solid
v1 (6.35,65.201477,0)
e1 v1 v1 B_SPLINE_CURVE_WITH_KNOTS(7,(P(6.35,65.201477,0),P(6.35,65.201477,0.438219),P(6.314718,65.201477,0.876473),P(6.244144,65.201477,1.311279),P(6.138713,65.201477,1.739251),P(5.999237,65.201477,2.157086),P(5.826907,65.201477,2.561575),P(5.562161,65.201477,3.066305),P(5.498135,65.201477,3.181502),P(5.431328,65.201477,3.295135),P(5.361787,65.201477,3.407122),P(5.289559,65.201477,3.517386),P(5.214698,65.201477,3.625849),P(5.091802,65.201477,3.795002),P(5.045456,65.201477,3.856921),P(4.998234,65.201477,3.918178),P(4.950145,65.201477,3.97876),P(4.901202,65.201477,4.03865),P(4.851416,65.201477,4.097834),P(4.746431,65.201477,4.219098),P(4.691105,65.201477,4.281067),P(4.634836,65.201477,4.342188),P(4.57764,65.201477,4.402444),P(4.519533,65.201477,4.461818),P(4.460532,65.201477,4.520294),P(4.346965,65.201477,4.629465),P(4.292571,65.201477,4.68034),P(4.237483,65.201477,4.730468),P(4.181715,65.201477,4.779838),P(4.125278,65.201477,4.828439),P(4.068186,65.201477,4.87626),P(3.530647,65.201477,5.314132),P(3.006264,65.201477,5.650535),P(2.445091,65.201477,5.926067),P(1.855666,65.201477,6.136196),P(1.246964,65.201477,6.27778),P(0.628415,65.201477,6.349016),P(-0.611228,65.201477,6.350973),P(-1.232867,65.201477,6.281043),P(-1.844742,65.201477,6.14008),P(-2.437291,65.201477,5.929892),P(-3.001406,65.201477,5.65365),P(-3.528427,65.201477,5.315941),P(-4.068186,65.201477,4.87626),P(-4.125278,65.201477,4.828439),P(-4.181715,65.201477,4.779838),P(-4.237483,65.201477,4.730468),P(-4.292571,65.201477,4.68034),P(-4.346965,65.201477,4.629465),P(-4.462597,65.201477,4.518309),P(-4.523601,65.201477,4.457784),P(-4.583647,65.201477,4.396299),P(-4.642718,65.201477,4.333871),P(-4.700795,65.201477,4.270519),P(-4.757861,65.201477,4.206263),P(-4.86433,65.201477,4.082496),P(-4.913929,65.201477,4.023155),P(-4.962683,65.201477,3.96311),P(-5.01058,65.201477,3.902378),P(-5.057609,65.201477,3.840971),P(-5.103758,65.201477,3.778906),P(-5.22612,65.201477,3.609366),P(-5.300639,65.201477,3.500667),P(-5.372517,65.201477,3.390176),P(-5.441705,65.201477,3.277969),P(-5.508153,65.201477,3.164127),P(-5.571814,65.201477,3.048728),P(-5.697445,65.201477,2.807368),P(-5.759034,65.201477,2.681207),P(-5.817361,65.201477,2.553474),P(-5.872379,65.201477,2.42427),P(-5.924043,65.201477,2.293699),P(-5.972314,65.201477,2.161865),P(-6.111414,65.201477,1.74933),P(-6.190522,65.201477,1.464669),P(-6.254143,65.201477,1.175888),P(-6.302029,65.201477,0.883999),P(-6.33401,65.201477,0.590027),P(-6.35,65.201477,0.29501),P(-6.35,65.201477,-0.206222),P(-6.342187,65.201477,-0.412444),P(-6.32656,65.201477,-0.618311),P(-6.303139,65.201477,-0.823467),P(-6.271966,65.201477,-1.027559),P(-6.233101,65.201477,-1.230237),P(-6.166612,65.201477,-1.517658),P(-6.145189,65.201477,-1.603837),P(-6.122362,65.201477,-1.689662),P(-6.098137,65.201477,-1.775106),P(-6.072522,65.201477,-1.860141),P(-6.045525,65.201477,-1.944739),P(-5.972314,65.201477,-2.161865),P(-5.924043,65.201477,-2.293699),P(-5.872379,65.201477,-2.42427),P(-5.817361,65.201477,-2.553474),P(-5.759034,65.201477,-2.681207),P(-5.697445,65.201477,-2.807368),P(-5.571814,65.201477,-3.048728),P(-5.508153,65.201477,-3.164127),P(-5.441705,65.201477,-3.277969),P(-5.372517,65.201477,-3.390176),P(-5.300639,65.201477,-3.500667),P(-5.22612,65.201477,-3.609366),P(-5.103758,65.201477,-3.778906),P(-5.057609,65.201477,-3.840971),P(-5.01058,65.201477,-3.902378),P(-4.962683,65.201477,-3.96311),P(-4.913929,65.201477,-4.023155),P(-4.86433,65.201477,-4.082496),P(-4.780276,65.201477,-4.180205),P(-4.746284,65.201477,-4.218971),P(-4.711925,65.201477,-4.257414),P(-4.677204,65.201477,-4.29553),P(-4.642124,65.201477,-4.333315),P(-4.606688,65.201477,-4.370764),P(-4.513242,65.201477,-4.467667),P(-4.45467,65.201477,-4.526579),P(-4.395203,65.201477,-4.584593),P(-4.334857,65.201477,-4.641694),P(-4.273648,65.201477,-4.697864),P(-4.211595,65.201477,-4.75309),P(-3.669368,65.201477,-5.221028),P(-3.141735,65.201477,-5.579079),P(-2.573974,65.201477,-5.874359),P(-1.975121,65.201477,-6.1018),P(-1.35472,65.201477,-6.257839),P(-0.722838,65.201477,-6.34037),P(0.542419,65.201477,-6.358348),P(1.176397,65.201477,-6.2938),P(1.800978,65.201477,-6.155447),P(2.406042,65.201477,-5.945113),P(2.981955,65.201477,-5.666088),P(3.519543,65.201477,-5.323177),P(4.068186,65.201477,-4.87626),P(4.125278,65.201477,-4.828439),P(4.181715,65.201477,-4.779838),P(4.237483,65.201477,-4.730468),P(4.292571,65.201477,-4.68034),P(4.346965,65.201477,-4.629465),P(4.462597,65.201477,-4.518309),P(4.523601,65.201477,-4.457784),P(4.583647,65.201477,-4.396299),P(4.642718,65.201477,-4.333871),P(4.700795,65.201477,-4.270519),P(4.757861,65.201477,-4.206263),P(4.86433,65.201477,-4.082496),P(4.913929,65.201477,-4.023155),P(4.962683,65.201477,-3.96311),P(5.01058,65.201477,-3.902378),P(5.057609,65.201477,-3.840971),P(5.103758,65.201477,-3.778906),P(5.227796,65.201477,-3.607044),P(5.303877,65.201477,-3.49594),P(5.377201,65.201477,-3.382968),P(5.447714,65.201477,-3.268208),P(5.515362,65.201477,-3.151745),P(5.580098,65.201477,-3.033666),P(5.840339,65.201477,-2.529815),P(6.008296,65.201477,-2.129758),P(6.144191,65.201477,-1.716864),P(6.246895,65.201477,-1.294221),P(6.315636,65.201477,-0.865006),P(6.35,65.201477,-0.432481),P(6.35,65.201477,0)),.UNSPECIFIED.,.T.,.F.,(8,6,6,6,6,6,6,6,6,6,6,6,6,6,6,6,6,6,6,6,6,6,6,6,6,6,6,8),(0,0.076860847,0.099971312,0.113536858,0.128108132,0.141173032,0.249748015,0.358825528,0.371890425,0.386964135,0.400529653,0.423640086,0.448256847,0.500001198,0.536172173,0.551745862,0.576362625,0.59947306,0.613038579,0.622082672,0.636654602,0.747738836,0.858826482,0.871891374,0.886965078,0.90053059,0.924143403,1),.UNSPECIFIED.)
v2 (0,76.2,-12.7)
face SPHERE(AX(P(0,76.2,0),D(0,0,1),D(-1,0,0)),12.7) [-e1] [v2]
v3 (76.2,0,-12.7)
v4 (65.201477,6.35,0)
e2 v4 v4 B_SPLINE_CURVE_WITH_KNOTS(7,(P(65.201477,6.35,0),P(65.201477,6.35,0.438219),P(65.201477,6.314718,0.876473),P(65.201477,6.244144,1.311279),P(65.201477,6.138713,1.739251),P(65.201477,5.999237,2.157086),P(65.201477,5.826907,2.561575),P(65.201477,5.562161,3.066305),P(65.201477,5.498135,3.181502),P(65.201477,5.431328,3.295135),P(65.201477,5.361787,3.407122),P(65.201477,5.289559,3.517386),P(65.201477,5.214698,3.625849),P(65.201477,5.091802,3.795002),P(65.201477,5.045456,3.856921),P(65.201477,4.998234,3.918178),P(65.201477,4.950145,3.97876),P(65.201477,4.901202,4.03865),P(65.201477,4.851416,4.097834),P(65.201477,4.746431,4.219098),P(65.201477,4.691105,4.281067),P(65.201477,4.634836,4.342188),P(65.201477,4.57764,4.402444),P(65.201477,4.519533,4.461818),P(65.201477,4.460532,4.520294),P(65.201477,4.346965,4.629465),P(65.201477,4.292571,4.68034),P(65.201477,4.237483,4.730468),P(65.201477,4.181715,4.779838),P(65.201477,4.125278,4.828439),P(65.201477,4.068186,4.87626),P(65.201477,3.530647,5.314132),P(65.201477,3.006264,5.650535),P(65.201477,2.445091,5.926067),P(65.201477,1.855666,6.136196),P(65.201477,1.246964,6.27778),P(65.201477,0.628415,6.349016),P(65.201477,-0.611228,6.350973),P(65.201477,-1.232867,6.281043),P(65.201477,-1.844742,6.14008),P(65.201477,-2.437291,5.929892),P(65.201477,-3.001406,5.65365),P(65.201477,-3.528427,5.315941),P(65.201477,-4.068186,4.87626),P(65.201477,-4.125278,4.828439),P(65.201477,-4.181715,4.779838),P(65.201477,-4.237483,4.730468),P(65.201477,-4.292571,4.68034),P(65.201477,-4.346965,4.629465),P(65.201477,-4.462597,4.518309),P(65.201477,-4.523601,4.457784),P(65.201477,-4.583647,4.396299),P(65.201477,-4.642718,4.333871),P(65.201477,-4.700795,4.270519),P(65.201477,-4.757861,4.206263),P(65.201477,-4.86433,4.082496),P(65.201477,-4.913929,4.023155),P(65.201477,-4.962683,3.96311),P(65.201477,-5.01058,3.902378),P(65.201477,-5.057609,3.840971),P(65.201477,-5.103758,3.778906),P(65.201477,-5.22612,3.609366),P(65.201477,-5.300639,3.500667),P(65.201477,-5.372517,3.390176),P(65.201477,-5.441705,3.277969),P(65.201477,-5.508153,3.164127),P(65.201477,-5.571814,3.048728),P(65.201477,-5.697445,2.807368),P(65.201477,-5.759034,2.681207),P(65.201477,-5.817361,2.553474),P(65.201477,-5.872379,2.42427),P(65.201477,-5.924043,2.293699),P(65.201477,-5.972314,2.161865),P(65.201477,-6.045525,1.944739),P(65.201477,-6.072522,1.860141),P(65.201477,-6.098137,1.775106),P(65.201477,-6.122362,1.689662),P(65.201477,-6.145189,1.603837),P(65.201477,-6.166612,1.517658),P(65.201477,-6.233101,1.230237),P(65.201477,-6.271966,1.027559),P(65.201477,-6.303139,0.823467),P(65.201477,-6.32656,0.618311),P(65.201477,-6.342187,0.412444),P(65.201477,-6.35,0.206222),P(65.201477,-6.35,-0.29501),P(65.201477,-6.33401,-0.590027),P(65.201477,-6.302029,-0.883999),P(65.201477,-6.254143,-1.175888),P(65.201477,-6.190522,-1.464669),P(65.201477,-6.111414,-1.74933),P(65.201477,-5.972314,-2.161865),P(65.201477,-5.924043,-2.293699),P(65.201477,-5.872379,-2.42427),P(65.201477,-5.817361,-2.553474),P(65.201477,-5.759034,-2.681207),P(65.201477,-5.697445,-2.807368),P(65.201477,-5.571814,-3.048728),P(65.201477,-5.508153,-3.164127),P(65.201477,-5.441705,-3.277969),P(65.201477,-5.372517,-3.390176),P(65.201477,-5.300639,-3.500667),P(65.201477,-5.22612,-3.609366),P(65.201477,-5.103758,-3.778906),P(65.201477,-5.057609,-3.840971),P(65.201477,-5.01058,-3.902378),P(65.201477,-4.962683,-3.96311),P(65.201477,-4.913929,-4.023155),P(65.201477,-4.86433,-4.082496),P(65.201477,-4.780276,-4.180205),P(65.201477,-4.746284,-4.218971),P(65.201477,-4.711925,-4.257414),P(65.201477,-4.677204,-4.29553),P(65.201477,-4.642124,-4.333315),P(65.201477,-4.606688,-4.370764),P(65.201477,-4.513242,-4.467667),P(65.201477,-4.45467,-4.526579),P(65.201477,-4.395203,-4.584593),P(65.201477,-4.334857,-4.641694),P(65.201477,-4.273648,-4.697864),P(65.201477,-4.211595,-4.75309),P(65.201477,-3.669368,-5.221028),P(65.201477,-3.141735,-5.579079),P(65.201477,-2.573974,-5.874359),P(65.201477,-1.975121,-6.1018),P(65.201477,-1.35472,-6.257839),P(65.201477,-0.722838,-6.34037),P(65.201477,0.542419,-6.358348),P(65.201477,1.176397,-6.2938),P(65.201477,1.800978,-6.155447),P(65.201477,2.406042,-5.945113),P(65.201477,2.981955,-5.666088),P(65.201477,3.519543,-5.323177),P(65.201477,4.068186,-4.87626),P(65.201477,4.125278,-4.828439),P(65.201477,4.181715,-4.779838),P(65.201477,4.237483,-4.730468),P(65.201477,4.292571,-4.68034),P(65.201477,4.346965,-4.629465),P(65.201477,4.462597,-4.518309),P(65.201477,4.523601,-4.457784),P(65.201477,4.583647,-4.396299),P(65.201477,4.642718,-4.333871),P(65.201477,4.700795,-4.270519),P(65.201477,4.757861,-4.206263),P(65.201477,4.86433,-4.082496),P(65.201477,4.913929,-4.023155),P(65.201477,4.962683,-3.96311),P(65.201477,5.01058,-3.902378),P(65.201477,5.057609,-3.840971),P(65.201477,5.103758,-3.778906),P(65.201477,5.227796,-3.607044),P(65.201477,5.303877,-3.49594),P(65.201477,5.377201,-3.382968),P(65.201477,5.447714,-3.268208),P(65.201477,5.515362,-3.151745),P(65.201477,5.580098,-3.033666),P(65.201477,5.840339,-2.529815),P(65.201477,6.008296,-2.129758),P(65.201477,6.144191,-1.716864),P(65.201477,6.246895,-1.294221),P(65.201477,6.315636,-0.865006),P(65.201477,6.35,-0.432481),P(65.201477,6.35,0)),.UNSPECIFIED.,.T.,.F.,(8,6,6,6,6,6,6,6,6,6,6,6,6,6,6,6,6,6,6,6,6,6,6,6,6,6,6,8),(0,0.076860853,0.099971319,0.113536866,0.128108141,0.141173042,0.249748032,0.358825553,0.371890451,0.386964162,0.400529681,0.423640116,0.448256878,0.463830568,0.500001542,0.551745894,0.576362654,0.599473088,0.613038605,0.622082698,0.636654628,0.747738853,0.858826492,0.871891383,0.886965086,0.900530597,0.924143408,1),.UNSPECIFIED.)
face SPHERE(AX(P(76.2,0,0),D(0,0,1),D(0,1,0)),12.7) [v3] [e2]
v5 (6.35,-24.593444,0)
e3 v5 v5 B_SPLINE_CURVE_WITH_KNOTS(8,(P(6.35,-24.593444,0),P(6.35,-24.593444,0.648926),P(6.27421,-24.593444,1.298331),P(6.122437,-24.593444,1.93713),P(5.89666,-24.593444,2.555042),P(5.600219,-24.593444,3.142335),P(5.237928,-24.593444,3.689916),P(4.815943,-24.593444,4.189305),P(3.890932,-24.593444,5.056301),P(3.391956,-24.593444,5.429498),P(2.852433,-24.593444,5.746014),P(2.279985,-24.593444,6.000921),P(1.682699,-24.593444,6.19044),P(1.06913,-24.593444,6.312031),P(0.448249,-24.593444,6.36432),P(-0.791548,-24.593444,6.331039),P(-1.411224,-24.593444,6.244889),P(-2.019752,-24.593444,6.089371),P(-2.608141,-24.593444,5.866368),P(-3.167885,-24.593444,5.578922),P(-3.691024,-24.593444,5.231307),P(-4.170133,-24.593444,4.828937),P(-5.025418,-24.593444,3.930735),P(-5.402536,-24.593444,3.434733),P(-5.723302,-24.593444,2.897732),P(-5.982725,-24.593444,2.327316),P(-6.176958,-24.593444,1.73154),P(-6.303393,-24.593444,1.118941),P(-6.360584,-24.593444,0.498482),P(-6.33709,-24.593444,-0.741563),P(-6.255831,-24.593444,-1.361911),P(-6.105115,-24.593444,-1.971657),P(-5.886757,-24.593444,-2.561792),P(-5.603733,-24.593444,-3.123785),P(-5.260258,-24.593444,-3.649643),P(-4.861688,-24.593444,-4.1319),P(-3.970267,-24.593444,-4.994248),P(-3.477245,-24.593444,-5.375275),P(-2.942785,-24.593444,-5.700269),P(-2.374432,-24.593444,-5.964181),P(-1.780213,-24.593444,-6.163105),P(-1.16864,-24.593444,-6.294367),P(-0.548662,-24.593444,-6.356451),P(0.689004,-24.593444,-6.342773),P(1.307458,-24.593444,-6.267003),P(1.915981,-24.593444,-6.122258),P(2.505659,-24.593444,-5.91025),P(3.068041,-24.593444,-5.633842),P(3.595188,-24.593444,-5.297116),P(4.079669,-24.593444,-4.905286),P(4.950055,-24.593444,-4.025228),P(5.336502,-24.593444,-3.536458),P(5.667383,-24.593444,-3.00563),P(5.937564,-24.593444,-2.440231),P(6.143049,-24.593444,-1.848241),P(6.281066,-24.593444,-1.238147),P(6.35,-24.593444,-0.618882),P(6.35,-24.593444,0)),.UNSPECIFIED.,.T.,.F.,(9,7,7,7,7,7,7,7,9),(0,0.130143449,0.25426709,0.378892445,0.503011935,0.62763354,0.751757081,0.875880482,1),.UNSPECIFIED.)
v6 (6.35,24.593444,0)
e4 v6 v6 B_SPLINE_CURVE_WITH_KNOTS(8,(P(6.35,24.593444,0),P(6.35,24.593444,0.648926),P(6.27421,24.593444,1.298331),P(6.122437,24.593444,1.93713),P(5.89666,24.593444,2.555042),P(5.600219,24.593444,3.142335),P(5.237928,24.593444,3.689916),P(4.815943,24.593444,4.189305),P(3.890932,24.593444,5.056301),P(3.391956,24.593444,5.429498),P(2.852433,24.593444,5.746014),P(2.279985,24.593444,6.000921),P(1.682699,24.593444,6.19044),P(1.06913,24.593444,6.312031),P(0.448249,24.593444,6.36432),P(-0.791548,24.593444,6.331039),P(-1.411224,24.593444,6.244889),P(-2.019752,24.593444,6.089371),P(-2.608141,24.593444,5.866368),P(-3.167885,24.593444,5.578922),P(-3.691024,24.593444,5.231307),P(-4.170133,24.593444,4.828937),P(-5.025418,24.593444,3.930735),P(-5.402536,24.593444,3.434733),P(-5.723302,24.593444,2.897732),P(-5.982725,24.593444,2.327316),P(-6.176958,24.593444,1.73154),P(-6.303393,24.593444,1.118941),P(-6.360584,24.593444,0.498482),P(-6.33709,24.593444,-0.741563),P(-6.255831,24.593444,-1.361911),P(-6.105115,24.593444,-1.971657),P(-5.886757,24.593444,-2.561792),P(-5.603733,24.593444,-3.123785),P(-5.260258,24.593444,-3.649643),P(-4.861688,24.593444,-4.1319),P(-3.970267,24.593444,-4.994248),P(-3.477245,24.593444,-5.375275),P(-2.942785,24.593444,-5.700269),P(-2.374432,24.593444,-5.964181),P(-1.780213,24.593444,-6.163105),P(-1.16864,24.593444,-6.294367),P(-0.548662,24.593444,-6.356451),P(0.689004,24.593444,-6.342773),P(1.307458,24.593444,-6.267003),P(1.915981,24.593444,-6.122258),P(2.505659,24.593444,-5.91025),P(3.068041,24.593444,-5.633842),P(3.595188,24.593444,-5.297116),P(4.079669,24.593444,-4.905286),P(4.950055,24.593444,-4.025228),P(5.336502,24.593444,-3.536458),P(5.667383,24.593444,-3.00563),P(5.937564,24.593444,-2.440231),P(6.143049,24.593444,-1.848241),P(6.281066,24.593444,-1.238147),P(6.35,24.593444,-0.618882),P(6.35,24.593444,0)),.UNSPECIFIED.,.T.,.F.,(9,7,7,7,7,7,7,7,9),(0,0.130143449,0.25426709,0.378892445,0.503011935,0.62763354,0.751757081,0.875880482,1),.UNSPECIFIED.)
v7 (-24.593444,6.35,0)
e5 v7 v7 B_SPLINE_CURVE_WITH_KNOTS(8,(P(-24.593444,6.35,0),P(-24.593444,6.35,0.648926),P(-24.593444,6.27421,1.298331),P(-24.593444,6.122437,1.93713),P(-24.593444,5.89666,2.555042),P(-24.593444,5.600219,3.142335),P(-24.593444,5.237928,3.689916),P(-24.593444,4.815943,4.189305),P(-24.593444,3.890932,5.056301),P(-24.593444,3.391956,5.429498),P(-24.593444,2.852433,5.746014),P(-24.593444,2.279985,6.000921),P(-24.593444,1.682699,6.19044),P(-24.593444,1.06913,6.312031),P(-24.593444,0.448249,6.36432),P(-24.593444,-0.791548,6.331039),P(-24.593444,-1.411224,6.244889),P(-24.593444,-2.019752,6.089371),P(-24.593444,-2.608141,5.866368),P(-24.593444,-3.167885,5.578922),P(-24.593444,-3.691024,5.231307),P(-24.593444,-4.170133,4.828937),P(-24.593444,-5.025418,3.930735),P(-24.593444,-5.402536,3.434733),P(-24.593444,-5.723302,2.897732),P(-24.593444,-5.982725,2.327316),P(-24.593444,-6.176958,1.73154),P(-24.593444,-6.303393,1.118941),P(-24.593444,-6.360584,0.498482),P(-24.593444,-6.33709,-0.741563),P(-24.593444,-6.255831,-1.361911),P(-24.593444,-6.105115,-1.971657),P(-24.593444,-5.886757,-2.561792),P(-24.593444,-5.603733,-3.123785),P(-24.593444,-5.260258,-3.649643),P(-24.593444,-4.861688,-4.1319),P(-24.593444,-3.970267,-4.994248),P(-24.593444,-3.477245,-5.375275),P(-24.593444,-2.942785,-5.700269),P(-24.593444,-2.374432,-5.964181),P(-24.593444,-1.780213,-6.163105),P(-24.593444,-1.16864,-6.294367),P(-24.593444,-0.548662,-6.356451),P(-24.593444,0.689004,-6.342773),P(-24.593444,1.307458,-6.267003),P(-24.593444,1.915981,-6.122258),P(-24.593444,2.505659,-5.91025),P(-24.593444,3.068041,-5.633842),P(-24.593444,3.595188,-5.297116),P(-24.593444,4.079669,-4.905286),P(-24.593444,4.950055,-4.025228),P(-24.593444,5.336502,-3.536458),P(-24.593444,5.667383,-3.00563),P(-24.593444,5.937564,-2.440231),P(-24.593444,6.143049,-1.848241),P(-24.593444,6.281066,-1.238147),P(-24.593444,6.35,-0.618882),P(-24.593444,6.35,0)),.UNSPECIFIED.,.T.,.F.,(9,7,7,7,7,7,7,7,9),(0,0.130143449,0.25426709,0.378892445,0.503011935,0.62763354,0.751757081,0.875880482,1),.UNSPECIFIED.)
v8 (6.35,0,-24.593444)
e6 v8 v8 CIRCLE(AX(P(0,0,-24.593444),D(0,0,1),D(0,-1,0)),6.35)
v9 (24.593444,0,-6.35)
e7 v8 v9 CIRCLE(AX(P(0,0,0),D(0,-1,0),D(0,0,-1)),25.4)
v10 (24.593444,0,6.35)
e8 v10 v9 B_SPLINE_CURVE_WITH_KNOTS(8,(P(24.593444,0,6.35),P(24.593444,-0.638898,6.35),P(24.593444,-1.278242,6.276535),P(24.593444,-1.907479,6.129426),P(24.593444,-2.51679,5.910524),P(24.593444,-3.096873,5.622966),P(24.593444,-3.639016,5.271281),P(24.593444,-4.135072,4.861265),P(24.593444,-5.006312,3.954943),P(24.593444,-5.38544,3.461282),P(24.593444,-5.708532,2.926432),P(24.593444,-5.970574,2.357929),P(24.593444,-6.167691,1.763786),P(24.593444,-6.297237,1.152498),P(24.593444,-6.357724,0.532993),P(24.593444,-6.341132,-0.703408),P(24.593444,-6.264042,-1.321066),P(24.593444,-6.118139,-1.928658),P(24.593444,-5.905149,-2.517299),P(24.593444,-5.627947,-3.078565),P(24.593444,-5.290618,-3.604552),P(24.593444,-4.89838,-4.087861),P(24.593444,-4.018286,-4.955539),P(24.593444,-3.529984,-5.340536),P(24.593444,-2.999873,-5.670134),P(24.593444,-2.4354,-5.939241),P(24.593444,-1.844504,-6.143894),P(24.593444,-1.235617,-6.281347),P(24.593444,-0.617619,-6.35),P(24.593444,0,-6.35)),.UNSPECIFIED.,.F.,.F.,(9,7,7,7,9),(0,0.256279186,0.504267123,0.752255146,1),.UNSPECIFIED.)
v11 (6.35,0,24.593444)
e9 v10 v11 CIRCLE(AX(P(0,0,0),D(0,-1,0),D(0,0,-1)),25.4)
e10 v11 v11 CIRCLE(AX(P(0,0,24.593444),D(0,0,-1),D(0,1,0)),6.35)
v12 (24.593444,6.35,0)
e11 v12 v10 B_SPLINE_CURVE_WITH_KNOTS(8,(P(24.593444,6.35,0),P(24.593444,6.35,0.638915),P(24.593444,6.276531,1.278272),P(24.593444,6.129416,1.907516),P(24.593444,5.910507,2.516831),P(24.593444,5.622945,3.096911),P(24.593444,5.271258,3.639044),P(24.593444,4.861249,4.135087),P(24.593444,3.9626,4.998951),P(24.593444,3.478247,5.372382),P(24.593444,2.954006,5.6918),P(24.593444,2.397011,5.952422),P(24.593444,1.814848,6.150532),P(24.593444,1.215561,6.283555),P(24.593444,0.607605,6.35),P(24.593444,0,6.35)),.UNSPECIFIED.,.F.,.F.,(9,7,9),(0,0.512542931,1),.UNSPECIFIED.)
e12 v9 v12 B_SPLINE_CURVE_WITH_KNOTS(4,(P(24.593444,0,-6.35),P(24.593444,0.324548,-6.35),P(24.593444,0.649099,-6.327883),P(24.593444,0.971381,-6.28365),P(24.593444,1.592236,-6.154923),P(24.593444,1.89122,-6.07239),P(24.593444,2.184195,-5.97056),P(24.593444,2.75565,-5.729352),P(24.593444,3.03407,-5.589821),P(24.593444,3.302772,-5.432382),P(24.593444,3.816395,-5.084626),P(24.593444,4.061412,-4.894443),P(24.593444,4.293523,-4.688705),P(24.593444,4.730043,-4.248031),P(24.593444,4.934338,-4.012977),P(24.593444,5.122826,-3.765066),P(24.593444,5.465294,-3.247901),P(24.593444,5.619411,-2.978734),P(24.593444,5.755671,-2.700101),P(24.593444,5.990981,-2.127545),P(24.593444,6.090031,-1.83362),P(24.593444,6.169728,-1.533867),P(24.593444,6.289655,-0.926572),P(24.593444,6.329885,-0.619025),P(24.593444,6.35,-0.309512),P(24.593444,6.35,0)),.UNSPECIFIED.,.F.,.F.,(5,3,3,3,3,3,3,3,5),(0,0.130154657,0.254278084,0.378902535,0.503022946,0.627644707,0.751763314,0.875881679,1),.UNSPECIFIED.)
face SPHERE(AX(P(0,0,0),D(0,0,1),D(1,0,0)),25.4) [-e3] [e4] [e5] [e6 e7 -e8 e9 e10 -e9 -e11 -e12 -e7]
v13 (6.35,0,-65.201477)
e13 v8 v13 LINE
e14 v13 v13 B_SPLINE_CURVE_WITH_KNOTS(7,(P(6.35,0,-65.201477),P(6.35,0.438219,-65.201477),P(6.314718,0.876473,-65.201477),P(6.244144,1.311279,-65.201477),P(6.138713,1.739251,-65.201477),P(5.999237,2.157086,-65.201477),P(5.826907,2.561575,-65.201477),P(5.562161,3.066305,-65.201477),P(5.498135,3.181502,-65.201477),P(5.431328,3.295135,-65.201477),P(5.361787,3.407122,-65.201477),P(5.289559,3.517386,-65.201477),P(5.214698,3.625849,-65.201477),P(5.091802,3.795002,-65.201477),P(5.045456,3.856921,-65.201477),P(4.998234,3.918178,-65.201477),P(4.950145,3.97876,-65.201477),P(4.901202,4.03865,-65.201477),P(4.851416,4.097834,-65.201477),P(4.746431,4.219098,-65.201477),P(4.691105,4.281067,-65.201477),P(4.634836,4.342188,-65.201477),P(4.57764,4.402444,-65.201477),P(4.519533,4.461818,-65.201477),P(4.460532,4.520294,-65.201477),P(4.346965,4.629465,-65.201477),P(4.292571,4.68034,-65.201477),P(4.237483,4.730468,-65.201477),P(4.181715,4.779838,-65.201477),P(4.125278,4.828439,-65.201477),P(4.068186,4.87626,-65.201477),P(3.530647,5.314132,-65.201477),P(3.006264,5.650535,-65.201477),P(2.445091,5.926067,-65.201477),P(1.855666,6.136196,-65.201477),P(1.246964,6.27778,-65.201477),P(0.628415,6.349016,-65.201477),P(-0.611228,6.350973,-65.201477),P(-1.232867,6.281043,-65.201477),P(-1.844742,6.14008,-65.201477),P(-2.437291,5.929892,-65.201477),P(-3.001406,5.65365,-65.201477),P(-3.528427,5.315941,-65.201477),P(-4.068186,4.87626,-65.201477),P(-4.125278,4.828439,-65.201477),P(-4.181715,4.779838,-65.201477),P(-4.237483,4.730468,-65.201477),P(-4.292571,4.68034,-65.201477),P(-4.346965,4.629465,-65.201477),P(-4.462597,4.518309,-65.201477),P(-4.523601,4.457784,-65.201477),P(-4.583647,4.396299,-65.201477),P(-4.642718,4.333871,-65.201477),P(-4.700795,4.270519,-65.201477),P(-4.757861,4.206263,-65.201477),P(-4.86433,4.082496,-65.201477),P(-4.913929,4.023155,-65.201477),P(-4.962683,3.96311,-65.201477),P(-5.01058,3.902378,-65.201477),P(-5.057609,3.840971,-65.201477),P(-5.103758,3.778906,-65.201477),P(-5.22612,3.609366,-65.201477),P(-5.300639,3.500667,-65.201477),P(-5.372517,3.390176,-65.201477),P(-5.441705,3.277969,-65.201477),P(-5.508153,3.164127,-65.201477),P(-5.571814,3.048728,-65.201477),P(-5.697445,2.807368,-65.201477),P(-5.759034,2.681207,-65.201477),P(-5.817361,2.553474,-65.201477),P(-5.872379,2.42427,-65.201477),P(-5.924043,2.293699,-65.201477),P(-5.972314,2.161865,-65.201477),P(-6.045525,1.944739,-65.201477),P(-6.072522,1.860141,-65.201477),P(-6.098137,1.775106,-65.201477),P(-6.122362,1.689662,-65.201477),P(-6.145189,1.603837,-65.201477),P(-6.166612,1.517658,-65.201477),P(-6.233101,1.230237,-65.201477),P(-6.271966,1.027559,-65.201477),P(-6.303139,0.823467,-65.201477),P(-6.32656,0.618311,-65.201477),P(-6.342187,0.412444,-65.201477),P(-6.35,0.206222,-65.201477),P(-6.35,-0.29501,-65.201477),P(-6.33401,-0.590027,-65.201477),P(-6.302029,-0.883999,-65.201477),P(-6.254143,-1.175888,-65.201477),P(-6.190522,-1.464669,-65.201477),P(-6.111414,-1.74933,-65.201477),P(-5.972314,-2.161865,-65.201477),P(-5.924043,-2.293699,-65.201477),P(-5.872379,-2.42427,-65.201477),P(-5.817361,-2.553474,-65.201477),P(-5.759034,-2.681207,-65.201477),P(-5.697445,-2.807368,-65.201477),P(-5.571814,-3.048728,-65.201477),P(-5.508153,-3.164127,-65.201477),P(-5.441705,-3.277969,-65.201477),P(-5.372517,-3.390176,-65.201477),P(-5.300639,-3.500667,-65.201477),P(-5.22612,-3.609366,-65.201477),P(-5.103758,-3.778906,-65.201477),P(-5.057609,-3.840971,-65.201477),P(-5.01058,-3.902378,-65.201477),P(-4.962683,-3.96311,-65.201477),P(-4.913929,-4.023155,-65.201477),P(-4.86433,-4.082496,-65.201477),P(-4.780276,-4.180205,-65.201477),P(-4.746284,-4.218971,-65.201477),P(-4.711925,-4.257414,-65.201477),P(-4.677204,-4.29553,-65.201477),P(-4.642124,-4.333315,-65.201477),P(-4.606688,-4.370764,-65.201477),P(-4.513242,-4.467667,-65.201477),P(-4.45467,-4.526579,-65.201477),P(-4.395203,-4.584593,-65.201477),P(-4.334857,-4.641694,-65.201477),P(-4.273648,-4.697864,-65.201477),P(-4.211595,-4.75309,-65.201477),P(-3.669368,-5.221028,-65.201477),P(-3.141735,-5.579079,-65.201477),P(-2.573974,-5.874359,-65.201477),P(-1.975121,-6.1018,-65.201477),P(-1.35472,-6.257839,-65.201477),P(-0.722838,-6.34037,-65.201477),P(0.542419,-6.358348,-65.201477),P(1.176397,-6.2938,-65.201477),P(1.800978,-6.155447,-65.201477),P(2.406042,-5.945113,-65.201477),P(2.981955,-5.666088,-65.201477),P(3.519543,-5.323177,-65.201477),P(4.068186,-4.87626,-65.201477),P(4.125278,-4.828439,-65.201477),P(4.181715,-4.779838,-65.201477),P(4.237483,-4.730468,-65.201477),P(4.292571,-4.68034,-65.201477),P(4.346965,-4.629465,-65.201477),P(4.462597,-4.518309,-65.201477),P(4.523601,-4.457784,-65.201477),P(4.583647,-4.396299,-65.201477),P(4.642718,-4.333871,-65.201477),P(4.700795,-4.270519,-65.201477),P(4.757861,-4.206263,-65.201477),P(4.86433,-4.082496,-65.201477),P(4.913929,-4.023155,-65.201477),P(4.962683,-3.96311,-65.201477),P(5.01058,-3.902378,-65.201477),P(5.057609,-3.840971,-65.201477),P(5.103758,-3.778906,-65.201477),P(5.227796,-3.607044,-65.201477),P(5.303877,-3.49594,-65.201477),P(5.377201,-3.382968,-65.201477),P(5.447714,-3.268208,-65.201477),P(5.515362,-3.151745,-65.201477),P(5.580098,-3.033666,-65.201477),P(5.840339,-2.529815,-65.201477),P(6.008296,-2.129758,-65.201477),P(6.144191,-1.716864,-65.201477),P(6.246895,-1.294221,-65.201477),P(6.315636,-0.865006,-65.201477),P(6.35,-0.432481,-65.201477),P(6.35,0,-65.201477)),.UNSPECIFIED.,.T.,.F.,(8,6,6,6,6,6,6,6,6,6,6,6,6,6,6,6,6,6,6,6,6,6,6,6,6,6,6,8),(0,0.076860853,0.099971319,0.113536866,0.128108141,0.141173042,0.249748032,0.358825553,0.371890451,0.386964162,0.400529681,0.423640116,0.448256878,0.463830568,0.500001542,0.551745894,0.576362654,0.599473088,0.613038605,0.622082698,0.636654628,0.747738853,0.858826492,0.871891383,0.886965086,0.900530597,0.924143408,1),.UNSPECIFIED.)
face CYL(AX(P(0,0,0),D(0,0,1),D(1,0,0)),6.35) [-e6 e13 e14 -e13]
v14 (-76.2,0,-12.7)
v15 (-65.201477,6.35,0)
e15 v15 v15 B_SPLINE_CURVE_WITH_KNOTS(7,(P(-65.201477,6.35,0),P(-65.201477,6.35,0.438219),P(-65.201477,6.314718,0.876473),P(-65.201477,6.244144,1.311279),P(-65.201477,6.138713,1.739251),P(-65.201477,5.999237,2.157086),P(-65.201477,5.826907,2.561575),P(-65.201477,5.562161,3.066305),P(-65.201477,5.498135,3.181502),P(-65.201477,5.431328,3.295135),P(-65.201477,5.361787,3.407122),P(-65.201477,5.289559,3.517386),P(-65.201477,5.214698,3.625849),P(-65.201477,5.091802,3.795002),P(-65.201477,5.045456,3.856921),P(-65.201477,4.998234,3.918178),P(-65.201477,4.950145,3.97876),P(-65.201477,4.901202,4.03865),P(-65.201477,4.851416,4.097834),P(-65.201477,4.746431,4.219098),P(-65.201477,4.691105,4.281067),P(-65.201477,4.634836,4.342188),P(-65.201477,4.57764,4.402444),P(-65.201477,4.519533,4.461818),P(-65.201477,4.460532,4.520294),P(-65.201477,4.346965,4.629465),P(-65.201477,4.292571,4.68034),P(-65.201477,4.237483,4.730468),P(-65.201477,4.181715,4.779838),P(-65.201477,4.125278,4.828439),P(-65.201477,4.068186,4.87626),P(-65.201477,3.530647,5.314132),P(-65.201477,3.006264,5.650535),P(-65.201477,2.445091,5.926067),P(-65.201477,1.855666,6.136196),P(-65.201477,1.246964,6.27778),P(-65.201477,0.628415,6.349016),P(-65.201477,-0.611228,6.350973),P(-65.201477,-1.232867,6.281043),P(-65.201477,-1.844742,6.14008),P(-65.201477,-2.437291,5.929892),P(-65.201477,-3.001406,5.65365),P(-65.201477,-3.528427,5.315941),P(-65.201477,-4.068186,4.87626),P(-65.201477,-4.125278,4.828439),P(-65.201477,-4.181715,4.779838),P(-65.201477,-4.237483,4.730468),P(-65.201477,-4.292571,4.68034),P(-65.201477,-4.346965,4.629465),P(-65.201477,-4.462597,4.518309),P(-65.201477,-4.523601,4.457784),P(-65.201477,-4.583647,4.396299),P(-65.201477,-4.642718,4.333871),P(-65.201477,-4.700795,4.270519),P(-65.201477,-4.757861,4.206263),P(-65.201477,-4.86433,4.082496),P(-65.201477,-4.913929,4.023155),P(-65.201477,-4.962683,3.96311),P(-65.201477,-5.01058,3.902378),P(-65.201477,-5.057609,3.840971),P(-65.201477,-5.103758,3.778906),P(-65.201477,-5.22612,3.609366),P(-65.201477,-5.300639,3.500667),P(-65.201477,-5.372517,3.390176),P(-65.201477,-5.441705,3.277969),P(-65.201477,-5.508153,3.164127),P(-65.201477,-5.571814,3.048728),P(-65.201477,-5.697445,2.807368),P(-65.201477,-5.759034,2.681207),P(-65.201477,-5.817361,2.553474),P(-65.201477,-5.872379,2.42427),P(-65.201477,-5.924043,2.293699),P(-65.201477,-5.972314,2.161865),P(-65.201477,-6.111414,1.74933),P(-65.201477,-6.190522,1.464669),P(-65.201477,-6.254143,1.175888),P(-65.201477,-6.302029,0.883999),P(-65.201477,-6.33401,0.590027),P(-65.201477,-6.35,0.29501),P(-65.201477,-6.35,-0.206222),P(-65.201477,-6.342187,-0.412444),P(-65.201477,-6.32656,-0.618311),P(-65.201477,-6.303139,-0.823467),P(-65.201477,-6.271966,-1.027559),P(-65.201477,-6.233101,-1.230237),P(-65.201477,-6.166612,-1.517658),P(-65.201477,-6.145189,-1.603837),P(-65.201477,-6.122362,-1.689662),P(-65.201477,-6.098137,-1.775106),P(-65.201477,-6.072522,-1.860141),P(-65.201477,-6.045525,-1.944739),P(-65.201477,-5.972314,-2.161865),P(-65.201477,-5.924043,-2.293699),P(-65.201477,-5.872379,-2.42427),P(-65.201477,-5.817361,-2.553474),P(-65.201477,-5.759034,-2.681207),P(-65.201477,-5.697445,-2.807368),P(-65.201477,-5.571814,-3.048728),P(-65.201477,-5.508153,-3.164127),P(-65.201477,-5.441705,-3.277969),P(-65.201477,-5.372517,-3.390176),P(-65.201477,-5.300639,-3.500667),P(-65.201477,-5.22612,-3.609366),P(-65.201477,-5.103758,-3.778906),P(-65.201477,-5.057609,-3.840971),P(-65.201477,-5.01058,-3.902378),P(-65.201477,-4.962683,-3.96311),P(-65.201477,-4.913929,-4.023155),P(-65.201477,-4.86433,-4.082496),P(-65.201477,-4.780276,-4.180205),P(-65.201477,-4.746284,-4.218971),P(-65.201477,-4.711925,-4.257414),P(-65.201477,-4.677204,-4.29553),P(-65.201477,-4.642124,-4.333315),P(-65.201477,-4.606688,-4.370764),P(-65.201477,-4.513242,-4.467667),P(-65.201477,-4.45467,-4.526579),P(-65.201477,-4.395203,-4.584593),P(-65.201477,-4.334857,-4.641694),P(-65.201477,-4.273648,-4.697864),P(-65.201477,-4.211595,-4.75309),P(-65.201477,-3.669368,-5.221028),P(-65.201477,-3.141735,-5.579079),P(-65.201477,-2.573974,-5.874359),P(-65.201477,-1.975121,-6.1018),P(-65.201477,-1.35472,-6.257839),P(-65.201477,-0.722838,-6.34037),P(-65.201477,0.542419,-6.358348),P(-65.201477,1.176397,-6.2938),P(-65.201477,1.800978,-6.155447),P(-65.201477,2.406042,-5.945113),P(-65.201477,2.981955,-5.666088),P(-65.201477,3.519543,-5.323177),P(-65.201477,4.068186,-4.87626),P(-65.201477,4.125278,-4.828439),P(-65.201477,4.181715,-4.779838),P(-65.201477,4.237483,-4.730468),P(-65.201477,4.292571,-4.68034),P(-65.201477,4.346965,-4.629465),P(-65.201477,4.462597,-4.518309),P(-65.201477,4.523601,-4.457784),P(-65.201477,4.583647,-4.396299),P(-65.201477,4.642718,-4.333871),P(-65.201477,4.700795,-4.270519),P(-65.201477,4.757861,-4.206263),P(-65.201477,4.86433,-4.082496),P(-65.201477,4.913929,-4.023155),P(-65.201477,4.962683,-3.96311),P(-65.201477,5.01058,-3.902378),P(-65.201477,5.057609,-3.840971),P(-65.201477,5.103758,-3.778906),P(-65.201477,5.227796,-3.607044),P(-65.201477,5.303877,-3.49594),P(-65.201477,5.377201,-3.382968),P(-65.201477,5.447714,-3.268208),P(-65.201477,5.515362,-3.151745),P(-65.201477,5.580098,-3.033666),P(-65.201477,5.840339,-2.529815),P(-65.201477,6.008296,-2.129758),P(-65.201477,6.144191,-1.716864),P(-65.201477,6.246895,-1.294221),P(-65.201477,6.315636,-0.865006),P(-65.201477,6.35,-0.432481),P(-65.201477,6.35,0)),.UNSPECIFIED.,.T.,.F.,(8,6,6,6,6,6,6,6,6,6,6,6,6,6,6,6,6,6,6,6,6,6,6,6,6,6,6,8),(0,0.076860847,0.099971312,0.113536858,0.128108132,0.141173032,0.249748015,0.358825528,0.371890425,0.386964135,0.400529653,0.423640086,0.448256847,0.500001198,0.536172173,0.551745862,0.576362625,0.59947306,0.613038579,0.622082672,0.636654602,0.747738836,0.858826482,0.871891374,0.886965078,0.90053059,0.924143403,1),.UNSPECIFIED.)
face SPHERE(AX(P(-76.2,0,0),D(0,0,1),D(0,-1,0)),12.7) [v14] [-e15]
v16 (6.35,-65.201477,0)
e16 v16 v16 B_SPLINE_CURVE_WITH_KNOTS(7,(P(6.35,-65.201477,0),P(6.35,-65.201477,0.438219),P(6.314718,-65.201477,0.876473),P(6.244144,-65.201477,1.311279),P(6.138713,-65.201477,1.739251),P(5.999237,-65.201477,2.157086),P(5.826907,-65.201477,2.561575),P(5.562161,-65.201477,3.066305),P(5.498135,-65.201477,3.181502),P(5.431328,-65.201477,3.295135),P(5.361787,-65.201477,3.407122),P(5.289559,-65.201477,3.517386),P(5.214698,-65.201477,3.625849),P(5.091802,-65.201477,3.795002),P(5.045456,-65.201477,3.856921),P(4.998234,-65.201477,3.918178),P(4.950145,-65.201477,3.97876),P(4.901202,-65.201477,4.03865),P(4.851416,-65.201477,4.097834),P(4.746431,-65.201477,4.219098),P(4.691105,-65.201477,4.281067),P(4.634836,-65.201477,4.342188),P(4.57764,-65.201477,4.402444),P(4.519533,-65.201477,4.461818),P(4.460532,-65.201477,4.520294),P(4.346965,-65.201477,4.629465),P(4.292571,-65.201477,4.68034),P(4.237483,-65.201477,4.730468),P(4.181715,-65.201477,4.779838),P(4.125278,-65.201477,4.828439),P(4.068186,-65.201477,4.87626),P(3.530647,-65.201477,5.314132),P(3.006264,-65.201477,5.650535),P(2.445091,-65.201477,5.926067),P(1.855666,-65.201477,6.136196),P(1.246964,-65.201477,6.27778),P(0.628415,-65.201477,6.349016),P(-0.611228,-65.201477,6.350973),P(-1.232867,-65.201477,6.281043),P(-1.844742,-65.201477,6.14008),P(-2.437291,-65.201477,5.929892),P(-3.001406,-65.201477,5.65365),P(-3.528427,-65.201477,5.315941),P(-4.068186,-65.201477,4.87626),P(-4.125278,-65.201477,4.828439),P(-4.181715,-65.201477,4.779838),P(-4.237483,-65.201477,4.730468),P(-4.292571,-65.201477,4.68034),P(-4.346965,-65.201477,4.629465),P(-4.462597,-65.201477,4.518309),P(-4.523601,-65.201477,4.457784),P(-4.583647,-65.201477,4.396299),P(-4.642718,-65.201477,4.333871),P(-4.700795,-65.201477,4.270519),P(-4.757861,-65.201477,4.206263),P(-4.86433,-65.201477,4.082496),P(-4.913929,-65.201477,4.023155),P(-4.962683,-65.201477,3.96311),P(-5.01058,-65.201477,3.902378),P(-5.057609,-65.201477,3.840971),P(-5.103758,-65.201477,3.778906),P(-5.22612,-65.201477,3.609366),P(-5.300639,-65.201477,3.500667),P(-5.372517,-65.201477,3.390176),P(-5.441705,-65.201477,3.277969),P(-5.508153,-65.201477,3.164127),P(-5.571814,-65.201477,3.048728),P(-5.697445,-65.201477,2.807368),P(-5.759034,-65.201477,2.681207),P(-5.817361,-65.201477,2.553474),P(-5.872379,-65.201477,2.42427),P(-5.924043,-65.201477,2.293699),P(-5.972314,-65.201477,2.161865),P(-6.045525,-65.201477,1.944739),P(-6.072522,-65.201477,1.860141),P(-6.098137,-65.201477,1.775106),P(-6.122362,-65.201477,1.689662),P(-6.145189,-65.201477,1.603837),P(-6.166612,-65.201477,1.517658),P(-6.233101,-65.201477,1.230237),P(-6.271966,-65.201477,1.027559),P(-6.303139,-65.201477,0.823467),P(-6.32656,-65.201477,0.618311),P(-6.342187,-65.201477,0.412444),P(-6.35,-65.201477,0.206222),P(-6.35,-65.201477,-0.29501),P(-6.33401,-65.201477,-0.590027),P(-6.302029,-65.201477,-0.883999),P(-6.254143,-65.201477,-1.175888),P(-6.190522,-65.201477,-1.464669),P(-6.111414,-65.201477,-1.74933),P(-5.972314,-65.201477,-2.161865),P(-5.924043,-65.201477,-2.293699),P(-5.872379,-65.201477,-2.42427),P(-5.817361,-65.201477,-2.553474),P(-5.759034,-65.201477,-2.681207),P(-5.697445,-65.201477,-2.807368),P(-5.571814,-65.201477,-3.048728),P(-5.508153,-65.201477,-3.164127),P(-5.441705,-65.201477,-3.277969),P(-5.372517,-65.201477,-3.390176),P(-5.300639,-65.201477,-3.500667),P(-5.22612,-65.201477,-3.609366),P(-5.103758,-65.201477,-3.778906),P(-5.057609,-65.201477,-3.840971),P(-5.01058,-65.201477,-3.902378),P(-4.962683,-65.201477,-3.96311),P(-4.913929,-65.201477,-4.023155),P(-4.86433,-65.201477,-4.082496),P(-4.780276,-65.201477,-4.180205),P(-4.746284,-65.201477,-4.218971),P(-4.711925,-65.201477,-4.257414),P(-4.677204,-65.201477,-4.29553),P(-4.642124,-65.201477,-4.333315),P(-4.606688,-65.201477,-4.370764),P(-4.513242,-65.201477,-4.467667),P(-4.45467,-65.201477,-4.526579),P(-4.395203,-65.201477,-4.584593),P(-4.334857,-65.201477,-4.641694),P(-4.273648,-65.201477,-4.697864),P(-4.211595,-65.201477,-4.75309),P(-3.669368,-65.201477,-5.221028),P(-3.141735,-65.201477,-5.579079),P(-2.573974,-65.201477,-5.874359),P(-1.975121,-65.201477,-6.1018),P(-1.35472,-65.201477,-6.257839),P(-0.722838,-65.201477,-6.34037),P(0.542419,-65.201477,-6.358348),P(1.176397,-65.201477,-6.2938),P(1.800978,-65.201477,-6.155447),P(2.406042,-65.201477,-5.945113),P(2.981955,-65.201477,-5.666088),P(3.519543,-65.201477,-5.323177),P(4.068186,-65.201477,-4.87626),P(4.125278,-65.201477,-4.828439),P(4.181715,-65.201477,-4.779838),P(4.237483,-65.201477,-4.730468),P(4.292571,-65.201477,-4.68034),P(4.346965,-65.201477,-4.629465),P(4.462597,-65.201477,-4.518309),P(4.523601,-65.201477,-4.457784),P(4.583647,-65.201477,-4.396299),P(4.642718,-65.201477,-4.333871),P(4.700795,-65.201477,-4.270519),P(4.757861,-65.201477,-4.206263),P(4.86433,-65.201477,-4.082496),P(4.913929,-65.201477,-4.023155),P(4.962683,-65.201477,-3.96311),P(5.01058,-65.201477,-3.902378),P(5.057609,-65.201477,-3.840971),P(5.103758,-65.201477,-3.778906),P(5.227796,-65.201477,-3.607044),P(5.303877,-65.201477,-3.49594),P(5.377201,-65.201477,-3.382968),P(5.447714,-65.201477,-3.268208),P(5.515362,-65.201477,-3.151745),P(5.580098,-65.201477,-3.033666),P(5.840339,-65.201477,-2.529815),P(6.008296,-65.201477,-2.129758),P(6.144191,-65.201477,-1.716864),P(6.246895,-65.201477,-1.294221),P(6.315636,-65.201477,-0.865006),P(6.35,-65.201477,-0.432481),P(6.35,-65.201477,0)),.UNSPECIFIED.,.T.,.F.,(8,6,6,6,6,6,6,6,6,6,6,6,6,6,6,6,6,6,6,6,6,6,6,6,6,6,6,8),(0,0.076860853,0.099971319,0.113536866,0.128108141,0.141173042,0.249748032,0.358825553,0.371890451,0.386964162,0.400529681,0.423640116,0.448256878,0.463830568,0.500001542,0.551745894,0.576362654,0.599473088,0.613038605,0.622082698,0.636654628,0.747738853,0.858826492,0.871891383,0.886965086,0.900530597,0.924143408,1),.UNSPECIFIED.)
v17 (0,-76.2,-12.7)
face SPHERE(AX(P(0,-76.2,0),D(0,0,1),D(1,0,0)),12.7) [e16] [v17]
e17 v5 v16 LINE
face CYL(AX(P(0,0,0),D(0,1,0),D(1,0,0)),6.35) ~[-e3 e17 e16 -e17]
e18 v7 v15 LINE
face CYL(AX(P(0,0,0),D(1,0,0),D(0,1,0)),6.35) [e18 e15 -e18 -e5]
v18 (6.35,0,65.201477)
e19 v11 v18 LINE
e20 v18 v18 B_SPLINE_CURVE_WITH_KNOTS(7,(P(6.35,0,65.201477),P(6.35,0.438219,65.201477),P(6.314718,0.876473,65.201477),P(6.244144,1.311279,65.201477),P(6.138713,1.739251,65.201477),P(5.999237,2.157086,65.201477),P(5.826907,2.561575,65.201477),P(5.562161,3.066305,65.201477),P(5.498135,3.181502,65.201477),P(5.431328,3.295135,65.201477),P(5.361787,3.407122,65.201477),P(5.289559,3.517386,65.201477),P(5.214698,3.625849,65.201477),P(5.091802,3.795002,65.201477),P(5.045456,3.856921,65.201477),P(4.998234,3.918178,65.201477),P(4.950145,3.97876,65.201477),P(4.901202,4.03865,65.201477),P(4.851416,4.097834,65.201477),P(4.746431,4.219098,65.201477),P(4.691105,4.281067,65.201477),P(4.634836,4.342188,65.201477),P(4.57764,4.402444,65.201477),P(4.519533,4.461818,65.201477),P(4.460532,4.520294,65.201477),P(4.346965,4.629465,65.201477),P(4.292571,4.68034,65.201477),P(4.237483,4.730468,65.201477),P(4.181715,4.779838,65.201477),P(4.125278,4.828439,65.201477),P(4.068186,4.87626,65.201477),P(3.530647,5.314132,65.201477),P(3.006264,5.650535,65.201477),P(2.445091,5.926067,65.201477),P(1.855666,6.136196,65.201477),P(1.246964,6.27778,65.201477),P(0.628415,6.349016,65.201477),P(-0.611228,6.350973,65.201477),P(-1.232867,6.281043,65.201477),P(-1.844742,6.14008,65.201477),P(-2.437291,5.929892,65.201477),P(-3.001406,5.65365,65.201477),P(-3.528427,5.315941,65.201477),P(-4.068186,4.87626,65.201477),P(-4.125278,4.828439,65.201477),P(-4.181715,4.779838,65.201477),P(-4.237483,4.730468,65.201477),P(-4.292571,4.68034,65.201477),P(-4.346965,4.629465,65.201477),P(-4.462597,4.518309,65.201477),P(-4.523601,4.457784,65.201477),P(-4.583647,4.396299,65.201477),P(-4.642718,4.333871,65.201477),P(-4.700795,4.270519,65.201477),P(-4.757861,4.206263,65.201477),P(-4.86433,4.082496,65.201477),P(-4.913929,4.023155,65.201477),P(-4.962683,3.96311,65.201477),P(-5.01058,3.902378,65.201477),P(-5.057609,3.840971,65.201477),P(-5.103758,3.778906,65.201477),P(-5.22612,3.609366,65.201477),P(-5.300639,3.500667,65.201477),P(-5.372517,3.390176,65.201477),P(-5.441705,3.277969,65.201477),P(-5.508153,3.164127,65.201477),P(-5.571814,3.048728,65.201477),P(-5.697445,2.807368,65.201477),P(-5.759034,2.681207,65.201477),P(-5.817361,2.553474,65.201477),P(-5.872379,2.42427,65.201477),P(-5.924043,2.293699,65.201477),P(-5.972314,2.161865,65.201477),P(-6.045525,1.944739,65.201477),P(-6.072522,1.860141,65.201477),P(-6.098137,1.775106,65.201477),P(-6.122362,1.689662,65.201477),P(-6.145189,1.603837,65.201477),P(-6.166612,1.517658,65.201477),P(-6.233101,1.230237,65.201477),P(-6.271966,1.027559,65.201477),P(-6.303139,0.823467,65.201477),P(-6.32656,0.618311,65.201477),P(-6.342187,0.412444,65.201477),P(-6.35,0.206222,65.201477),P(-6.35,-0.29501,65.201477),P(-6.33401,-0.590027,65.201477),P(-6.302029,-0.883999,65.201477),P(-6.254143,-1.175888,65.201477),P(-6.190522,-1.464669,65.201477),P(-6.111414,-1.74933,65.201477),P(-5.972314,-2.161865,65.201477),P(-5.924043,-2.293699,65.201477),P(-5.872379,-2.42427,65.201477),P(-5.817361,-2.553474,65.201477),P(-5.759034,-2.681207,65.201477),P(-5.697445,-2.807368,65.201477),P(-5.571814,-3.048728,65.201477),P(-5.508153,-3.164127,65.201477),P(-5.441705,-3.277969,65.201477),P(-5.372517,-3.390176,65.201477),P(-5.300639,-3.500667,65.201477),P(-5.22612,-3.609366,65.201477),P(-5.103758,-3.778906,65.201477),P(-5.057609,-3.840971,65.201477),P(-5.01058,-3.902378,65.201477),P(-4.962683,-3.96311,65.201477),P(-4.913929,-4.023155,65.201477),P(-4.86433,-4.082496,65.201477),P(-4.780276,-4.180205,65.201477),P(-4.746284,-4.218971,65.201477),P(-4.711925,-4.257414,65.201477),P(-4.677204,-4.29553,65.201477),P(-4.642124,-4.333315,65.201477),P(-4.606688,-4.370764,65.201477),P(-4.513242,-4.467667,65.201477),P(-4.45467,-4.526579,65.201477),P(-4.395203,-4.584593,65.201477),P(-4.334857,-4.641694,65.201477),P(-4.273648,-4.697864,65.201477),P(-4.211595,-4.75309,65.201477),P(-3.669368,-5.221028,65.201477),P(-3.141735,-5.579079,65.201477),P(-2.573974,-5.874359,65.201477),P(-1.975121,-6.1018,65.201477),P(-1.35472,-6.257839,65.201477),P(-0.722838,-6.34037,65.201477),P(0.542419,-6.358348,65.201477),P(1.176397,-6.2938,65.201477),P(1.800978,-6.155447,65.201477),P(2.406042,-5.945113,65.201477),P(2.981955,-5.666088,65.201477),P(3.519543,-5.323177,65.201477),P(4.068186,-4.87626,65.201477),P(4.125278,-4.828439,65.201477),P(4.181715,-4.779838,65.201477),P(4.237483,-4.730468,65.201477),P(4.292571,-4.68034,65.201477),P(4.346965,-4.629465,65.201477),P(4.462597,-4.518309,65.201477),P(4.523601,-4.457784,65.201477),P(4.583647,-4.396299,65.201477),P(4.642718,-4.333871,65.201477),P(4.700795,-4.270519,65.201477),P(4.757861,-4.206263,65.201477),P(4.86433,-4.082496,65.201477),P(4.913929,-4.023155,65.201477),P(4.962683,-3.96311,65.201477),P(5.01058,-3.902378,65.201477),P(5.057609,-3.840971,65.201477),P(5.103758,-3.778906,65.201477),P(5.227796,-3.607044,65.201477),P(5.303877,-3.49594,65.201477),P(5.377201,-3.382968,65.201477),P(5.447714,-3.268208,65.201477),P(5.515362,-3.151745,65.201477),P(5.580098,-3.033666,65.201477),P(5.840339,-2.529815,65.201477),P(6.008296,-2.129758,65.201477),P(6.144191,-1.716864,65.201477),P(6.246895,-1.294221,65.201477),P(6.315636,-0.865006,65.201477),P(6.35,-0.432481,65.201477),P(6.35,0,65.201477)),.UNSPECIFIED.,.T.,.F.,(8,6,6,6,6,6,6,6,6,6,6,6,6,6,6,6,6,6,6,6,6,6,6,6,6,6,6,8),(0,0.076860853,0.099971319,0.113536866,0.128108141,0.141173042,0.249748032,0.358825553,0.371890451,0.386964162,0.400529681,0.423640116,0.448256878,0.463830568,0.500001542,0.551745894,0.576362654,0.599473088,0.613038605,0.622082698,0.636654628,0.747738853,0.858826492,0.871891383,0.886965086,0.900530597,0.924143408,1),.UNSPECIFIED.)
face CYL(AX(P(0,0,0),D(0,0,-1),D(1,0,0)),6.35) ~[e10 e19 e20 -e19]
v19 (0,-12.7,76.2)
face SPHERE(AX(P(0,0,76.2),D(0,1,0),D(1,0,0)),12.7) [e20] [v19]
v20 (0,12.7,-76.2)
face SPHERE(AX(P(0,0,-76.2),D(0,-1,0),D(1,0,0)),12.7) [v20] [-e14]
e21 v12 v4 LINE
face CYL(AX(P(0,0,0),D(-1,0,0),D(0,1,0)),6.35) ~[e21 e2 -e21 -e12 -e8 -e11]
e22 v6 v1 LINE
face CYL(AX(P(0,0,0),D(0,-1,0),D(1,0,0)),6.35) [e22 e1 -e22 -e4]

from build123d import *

# Parameters (mm, degrees)
F2_R      = 6.35
F3_DEPTH  = 76.2
F4_DEPTH  = 76.2
F5_R      = 6.35
F6_DEPTH  = 76.2
F7_DEPTH  = 76.2
F8_R      = 6.35
F9_DEPTH  = 76.2
F10_DEPTH = 76.2


with BuildPart() as f1:
    # F0 (on Front) → F1 (revolve)
    with BuildSketch(Plane.XZ):
        with BuildLine():
            Line((0, 25.4), (0, 0))
            Line((0, 0), (0, -25.4))
            ThreePointArc((0, -25.4), (25.4, 0), (0, 25.4))
        make_face()
    revolve(axis=Axis((0, 0, 12.7), (0, 0, 1)))

    # F2 (on Right) → F3 (join)
    with BuildSketch(Plane.YZ):
        Circle(F2_R)
    extrude(amount=F3_DEPTH)

    # F2 (on Right) → F4 (join)
    with BuildSketch(Plane.YZ):
        Circle(F2_R)
    extrude(amount=-F4_DEPTH)

    # F5 (on Top) → F6 (join)
    with BuildSketch(Plane.XY):
        Circle(F5_R)
    extrude(amount=F6_DEPTH)

    # F5 (on Top) → F7 (join)
    with BuildSketch(Plane.XY):
        Circle(F5_R)
    extrude(amount=-F7_DEPTH)

    # F8 (on Front) → F9 (join)
    with BuildSketch(Plane.XZ):
        Circle(F8_R)
    extrude(amount=F9_DEPTH)

    # F8 (on Front) → F10 (join)
    with BuildSketch(Plane.XZ):
        Circle(F8_R)
    extrude(amount=-F10_DEPTH)

    # F11 (on face) → F12 (revolve)
    with BuildSketch(Plane.YZ.offset(76.2)):
        with BuildLine():
            Line((0, 12.7), (0, 0))
            Line((0, 0), (0, -12.7))
            ThreePointArc((0, -12.7), (12.7, 0), (0, 12.7))
        make_face()
    revolve(axis=Axis((76.2, 0, 6.35), (0, 0, 1)))

    # F13 (on face) → F14 (revolve)
    with BuildSketch(Plane(origin=(0, 0, -76.2), x_dir=(1, 0, 0), z_dir=(0, 0, -1))):
        with BuildLine():
            Line((0, 12.7), (0, 0))
            Line((0, 0), (0, -12.7))
            ThreePointArc((0, -12.7), (12.7, 0), (0, 12.7))
        make_face()
    revolve(axis=Axis((0, -6.35, -76.2), (0, -1, 0)))

    # F15 (on face) → F16 (revolve)
    with BuildSketch(Plane(origin=(0, 76.2, 0), x_dir=(-1, 0, 0), z_dir=(0, 1, 0))):
        with BuildLine():
            Line((0, 12.7), (0, 0))
            Line((0, 0), (0, -12.7))
            ThreePointArc((0, -12.7), (12.7, 0), (0, 12.7))
        make_face()
    revolve(axis=Axis((0, 76.2, 6.35), (0, 0, 1)))

    # F17 (on face) → F18 (revolve)
    with BuildSketch(Plane.XY.offset(76.2)):
        with BuildLine():
            Line((0, 12.7), (0, 0))
            Line((0, 0), (0, -12.7))
            ThreePointArc((0, -12.7), (12.7, 0), (0, 12.7))
        make_face()
    revolve(axis=Axis((0, 6.35, 76.2), (0, 1, 0)))

    # F19 (on face) → F20 (revolve)
    with BuildSketch(Plane.XZ.offset(76.2)):
        with BuildLine():
            Line((0, 12.7), (0, 0))
            Line((0, 0), (0, -12.7))
            ThreePointArc((0, -12.7), (12.7, 0), (0, 12.7))
        make_face()
    revolve(axis=Axis((0, -76.2, 6.35), (0, 0, 1)))

    # F21 (on face) → F22 (revolve)
    with BuildSketch(Plane(origin=(-76.2, 0, 0), x_dir=(0, -1, 0), z_dir=(-1, 0, 0))):
        with BuildLine():
            Line((0, 12.7), (0, 0))
            Line((0, 0), (0, -12.7))
            ThreePointArc((0, -12.7), (12.7, 0), (0, 12.7))
        make_face()
    revolve(axis=Axis((-76.2, 0, 6.35), (0, 0, 1)))


solid = f1.part
